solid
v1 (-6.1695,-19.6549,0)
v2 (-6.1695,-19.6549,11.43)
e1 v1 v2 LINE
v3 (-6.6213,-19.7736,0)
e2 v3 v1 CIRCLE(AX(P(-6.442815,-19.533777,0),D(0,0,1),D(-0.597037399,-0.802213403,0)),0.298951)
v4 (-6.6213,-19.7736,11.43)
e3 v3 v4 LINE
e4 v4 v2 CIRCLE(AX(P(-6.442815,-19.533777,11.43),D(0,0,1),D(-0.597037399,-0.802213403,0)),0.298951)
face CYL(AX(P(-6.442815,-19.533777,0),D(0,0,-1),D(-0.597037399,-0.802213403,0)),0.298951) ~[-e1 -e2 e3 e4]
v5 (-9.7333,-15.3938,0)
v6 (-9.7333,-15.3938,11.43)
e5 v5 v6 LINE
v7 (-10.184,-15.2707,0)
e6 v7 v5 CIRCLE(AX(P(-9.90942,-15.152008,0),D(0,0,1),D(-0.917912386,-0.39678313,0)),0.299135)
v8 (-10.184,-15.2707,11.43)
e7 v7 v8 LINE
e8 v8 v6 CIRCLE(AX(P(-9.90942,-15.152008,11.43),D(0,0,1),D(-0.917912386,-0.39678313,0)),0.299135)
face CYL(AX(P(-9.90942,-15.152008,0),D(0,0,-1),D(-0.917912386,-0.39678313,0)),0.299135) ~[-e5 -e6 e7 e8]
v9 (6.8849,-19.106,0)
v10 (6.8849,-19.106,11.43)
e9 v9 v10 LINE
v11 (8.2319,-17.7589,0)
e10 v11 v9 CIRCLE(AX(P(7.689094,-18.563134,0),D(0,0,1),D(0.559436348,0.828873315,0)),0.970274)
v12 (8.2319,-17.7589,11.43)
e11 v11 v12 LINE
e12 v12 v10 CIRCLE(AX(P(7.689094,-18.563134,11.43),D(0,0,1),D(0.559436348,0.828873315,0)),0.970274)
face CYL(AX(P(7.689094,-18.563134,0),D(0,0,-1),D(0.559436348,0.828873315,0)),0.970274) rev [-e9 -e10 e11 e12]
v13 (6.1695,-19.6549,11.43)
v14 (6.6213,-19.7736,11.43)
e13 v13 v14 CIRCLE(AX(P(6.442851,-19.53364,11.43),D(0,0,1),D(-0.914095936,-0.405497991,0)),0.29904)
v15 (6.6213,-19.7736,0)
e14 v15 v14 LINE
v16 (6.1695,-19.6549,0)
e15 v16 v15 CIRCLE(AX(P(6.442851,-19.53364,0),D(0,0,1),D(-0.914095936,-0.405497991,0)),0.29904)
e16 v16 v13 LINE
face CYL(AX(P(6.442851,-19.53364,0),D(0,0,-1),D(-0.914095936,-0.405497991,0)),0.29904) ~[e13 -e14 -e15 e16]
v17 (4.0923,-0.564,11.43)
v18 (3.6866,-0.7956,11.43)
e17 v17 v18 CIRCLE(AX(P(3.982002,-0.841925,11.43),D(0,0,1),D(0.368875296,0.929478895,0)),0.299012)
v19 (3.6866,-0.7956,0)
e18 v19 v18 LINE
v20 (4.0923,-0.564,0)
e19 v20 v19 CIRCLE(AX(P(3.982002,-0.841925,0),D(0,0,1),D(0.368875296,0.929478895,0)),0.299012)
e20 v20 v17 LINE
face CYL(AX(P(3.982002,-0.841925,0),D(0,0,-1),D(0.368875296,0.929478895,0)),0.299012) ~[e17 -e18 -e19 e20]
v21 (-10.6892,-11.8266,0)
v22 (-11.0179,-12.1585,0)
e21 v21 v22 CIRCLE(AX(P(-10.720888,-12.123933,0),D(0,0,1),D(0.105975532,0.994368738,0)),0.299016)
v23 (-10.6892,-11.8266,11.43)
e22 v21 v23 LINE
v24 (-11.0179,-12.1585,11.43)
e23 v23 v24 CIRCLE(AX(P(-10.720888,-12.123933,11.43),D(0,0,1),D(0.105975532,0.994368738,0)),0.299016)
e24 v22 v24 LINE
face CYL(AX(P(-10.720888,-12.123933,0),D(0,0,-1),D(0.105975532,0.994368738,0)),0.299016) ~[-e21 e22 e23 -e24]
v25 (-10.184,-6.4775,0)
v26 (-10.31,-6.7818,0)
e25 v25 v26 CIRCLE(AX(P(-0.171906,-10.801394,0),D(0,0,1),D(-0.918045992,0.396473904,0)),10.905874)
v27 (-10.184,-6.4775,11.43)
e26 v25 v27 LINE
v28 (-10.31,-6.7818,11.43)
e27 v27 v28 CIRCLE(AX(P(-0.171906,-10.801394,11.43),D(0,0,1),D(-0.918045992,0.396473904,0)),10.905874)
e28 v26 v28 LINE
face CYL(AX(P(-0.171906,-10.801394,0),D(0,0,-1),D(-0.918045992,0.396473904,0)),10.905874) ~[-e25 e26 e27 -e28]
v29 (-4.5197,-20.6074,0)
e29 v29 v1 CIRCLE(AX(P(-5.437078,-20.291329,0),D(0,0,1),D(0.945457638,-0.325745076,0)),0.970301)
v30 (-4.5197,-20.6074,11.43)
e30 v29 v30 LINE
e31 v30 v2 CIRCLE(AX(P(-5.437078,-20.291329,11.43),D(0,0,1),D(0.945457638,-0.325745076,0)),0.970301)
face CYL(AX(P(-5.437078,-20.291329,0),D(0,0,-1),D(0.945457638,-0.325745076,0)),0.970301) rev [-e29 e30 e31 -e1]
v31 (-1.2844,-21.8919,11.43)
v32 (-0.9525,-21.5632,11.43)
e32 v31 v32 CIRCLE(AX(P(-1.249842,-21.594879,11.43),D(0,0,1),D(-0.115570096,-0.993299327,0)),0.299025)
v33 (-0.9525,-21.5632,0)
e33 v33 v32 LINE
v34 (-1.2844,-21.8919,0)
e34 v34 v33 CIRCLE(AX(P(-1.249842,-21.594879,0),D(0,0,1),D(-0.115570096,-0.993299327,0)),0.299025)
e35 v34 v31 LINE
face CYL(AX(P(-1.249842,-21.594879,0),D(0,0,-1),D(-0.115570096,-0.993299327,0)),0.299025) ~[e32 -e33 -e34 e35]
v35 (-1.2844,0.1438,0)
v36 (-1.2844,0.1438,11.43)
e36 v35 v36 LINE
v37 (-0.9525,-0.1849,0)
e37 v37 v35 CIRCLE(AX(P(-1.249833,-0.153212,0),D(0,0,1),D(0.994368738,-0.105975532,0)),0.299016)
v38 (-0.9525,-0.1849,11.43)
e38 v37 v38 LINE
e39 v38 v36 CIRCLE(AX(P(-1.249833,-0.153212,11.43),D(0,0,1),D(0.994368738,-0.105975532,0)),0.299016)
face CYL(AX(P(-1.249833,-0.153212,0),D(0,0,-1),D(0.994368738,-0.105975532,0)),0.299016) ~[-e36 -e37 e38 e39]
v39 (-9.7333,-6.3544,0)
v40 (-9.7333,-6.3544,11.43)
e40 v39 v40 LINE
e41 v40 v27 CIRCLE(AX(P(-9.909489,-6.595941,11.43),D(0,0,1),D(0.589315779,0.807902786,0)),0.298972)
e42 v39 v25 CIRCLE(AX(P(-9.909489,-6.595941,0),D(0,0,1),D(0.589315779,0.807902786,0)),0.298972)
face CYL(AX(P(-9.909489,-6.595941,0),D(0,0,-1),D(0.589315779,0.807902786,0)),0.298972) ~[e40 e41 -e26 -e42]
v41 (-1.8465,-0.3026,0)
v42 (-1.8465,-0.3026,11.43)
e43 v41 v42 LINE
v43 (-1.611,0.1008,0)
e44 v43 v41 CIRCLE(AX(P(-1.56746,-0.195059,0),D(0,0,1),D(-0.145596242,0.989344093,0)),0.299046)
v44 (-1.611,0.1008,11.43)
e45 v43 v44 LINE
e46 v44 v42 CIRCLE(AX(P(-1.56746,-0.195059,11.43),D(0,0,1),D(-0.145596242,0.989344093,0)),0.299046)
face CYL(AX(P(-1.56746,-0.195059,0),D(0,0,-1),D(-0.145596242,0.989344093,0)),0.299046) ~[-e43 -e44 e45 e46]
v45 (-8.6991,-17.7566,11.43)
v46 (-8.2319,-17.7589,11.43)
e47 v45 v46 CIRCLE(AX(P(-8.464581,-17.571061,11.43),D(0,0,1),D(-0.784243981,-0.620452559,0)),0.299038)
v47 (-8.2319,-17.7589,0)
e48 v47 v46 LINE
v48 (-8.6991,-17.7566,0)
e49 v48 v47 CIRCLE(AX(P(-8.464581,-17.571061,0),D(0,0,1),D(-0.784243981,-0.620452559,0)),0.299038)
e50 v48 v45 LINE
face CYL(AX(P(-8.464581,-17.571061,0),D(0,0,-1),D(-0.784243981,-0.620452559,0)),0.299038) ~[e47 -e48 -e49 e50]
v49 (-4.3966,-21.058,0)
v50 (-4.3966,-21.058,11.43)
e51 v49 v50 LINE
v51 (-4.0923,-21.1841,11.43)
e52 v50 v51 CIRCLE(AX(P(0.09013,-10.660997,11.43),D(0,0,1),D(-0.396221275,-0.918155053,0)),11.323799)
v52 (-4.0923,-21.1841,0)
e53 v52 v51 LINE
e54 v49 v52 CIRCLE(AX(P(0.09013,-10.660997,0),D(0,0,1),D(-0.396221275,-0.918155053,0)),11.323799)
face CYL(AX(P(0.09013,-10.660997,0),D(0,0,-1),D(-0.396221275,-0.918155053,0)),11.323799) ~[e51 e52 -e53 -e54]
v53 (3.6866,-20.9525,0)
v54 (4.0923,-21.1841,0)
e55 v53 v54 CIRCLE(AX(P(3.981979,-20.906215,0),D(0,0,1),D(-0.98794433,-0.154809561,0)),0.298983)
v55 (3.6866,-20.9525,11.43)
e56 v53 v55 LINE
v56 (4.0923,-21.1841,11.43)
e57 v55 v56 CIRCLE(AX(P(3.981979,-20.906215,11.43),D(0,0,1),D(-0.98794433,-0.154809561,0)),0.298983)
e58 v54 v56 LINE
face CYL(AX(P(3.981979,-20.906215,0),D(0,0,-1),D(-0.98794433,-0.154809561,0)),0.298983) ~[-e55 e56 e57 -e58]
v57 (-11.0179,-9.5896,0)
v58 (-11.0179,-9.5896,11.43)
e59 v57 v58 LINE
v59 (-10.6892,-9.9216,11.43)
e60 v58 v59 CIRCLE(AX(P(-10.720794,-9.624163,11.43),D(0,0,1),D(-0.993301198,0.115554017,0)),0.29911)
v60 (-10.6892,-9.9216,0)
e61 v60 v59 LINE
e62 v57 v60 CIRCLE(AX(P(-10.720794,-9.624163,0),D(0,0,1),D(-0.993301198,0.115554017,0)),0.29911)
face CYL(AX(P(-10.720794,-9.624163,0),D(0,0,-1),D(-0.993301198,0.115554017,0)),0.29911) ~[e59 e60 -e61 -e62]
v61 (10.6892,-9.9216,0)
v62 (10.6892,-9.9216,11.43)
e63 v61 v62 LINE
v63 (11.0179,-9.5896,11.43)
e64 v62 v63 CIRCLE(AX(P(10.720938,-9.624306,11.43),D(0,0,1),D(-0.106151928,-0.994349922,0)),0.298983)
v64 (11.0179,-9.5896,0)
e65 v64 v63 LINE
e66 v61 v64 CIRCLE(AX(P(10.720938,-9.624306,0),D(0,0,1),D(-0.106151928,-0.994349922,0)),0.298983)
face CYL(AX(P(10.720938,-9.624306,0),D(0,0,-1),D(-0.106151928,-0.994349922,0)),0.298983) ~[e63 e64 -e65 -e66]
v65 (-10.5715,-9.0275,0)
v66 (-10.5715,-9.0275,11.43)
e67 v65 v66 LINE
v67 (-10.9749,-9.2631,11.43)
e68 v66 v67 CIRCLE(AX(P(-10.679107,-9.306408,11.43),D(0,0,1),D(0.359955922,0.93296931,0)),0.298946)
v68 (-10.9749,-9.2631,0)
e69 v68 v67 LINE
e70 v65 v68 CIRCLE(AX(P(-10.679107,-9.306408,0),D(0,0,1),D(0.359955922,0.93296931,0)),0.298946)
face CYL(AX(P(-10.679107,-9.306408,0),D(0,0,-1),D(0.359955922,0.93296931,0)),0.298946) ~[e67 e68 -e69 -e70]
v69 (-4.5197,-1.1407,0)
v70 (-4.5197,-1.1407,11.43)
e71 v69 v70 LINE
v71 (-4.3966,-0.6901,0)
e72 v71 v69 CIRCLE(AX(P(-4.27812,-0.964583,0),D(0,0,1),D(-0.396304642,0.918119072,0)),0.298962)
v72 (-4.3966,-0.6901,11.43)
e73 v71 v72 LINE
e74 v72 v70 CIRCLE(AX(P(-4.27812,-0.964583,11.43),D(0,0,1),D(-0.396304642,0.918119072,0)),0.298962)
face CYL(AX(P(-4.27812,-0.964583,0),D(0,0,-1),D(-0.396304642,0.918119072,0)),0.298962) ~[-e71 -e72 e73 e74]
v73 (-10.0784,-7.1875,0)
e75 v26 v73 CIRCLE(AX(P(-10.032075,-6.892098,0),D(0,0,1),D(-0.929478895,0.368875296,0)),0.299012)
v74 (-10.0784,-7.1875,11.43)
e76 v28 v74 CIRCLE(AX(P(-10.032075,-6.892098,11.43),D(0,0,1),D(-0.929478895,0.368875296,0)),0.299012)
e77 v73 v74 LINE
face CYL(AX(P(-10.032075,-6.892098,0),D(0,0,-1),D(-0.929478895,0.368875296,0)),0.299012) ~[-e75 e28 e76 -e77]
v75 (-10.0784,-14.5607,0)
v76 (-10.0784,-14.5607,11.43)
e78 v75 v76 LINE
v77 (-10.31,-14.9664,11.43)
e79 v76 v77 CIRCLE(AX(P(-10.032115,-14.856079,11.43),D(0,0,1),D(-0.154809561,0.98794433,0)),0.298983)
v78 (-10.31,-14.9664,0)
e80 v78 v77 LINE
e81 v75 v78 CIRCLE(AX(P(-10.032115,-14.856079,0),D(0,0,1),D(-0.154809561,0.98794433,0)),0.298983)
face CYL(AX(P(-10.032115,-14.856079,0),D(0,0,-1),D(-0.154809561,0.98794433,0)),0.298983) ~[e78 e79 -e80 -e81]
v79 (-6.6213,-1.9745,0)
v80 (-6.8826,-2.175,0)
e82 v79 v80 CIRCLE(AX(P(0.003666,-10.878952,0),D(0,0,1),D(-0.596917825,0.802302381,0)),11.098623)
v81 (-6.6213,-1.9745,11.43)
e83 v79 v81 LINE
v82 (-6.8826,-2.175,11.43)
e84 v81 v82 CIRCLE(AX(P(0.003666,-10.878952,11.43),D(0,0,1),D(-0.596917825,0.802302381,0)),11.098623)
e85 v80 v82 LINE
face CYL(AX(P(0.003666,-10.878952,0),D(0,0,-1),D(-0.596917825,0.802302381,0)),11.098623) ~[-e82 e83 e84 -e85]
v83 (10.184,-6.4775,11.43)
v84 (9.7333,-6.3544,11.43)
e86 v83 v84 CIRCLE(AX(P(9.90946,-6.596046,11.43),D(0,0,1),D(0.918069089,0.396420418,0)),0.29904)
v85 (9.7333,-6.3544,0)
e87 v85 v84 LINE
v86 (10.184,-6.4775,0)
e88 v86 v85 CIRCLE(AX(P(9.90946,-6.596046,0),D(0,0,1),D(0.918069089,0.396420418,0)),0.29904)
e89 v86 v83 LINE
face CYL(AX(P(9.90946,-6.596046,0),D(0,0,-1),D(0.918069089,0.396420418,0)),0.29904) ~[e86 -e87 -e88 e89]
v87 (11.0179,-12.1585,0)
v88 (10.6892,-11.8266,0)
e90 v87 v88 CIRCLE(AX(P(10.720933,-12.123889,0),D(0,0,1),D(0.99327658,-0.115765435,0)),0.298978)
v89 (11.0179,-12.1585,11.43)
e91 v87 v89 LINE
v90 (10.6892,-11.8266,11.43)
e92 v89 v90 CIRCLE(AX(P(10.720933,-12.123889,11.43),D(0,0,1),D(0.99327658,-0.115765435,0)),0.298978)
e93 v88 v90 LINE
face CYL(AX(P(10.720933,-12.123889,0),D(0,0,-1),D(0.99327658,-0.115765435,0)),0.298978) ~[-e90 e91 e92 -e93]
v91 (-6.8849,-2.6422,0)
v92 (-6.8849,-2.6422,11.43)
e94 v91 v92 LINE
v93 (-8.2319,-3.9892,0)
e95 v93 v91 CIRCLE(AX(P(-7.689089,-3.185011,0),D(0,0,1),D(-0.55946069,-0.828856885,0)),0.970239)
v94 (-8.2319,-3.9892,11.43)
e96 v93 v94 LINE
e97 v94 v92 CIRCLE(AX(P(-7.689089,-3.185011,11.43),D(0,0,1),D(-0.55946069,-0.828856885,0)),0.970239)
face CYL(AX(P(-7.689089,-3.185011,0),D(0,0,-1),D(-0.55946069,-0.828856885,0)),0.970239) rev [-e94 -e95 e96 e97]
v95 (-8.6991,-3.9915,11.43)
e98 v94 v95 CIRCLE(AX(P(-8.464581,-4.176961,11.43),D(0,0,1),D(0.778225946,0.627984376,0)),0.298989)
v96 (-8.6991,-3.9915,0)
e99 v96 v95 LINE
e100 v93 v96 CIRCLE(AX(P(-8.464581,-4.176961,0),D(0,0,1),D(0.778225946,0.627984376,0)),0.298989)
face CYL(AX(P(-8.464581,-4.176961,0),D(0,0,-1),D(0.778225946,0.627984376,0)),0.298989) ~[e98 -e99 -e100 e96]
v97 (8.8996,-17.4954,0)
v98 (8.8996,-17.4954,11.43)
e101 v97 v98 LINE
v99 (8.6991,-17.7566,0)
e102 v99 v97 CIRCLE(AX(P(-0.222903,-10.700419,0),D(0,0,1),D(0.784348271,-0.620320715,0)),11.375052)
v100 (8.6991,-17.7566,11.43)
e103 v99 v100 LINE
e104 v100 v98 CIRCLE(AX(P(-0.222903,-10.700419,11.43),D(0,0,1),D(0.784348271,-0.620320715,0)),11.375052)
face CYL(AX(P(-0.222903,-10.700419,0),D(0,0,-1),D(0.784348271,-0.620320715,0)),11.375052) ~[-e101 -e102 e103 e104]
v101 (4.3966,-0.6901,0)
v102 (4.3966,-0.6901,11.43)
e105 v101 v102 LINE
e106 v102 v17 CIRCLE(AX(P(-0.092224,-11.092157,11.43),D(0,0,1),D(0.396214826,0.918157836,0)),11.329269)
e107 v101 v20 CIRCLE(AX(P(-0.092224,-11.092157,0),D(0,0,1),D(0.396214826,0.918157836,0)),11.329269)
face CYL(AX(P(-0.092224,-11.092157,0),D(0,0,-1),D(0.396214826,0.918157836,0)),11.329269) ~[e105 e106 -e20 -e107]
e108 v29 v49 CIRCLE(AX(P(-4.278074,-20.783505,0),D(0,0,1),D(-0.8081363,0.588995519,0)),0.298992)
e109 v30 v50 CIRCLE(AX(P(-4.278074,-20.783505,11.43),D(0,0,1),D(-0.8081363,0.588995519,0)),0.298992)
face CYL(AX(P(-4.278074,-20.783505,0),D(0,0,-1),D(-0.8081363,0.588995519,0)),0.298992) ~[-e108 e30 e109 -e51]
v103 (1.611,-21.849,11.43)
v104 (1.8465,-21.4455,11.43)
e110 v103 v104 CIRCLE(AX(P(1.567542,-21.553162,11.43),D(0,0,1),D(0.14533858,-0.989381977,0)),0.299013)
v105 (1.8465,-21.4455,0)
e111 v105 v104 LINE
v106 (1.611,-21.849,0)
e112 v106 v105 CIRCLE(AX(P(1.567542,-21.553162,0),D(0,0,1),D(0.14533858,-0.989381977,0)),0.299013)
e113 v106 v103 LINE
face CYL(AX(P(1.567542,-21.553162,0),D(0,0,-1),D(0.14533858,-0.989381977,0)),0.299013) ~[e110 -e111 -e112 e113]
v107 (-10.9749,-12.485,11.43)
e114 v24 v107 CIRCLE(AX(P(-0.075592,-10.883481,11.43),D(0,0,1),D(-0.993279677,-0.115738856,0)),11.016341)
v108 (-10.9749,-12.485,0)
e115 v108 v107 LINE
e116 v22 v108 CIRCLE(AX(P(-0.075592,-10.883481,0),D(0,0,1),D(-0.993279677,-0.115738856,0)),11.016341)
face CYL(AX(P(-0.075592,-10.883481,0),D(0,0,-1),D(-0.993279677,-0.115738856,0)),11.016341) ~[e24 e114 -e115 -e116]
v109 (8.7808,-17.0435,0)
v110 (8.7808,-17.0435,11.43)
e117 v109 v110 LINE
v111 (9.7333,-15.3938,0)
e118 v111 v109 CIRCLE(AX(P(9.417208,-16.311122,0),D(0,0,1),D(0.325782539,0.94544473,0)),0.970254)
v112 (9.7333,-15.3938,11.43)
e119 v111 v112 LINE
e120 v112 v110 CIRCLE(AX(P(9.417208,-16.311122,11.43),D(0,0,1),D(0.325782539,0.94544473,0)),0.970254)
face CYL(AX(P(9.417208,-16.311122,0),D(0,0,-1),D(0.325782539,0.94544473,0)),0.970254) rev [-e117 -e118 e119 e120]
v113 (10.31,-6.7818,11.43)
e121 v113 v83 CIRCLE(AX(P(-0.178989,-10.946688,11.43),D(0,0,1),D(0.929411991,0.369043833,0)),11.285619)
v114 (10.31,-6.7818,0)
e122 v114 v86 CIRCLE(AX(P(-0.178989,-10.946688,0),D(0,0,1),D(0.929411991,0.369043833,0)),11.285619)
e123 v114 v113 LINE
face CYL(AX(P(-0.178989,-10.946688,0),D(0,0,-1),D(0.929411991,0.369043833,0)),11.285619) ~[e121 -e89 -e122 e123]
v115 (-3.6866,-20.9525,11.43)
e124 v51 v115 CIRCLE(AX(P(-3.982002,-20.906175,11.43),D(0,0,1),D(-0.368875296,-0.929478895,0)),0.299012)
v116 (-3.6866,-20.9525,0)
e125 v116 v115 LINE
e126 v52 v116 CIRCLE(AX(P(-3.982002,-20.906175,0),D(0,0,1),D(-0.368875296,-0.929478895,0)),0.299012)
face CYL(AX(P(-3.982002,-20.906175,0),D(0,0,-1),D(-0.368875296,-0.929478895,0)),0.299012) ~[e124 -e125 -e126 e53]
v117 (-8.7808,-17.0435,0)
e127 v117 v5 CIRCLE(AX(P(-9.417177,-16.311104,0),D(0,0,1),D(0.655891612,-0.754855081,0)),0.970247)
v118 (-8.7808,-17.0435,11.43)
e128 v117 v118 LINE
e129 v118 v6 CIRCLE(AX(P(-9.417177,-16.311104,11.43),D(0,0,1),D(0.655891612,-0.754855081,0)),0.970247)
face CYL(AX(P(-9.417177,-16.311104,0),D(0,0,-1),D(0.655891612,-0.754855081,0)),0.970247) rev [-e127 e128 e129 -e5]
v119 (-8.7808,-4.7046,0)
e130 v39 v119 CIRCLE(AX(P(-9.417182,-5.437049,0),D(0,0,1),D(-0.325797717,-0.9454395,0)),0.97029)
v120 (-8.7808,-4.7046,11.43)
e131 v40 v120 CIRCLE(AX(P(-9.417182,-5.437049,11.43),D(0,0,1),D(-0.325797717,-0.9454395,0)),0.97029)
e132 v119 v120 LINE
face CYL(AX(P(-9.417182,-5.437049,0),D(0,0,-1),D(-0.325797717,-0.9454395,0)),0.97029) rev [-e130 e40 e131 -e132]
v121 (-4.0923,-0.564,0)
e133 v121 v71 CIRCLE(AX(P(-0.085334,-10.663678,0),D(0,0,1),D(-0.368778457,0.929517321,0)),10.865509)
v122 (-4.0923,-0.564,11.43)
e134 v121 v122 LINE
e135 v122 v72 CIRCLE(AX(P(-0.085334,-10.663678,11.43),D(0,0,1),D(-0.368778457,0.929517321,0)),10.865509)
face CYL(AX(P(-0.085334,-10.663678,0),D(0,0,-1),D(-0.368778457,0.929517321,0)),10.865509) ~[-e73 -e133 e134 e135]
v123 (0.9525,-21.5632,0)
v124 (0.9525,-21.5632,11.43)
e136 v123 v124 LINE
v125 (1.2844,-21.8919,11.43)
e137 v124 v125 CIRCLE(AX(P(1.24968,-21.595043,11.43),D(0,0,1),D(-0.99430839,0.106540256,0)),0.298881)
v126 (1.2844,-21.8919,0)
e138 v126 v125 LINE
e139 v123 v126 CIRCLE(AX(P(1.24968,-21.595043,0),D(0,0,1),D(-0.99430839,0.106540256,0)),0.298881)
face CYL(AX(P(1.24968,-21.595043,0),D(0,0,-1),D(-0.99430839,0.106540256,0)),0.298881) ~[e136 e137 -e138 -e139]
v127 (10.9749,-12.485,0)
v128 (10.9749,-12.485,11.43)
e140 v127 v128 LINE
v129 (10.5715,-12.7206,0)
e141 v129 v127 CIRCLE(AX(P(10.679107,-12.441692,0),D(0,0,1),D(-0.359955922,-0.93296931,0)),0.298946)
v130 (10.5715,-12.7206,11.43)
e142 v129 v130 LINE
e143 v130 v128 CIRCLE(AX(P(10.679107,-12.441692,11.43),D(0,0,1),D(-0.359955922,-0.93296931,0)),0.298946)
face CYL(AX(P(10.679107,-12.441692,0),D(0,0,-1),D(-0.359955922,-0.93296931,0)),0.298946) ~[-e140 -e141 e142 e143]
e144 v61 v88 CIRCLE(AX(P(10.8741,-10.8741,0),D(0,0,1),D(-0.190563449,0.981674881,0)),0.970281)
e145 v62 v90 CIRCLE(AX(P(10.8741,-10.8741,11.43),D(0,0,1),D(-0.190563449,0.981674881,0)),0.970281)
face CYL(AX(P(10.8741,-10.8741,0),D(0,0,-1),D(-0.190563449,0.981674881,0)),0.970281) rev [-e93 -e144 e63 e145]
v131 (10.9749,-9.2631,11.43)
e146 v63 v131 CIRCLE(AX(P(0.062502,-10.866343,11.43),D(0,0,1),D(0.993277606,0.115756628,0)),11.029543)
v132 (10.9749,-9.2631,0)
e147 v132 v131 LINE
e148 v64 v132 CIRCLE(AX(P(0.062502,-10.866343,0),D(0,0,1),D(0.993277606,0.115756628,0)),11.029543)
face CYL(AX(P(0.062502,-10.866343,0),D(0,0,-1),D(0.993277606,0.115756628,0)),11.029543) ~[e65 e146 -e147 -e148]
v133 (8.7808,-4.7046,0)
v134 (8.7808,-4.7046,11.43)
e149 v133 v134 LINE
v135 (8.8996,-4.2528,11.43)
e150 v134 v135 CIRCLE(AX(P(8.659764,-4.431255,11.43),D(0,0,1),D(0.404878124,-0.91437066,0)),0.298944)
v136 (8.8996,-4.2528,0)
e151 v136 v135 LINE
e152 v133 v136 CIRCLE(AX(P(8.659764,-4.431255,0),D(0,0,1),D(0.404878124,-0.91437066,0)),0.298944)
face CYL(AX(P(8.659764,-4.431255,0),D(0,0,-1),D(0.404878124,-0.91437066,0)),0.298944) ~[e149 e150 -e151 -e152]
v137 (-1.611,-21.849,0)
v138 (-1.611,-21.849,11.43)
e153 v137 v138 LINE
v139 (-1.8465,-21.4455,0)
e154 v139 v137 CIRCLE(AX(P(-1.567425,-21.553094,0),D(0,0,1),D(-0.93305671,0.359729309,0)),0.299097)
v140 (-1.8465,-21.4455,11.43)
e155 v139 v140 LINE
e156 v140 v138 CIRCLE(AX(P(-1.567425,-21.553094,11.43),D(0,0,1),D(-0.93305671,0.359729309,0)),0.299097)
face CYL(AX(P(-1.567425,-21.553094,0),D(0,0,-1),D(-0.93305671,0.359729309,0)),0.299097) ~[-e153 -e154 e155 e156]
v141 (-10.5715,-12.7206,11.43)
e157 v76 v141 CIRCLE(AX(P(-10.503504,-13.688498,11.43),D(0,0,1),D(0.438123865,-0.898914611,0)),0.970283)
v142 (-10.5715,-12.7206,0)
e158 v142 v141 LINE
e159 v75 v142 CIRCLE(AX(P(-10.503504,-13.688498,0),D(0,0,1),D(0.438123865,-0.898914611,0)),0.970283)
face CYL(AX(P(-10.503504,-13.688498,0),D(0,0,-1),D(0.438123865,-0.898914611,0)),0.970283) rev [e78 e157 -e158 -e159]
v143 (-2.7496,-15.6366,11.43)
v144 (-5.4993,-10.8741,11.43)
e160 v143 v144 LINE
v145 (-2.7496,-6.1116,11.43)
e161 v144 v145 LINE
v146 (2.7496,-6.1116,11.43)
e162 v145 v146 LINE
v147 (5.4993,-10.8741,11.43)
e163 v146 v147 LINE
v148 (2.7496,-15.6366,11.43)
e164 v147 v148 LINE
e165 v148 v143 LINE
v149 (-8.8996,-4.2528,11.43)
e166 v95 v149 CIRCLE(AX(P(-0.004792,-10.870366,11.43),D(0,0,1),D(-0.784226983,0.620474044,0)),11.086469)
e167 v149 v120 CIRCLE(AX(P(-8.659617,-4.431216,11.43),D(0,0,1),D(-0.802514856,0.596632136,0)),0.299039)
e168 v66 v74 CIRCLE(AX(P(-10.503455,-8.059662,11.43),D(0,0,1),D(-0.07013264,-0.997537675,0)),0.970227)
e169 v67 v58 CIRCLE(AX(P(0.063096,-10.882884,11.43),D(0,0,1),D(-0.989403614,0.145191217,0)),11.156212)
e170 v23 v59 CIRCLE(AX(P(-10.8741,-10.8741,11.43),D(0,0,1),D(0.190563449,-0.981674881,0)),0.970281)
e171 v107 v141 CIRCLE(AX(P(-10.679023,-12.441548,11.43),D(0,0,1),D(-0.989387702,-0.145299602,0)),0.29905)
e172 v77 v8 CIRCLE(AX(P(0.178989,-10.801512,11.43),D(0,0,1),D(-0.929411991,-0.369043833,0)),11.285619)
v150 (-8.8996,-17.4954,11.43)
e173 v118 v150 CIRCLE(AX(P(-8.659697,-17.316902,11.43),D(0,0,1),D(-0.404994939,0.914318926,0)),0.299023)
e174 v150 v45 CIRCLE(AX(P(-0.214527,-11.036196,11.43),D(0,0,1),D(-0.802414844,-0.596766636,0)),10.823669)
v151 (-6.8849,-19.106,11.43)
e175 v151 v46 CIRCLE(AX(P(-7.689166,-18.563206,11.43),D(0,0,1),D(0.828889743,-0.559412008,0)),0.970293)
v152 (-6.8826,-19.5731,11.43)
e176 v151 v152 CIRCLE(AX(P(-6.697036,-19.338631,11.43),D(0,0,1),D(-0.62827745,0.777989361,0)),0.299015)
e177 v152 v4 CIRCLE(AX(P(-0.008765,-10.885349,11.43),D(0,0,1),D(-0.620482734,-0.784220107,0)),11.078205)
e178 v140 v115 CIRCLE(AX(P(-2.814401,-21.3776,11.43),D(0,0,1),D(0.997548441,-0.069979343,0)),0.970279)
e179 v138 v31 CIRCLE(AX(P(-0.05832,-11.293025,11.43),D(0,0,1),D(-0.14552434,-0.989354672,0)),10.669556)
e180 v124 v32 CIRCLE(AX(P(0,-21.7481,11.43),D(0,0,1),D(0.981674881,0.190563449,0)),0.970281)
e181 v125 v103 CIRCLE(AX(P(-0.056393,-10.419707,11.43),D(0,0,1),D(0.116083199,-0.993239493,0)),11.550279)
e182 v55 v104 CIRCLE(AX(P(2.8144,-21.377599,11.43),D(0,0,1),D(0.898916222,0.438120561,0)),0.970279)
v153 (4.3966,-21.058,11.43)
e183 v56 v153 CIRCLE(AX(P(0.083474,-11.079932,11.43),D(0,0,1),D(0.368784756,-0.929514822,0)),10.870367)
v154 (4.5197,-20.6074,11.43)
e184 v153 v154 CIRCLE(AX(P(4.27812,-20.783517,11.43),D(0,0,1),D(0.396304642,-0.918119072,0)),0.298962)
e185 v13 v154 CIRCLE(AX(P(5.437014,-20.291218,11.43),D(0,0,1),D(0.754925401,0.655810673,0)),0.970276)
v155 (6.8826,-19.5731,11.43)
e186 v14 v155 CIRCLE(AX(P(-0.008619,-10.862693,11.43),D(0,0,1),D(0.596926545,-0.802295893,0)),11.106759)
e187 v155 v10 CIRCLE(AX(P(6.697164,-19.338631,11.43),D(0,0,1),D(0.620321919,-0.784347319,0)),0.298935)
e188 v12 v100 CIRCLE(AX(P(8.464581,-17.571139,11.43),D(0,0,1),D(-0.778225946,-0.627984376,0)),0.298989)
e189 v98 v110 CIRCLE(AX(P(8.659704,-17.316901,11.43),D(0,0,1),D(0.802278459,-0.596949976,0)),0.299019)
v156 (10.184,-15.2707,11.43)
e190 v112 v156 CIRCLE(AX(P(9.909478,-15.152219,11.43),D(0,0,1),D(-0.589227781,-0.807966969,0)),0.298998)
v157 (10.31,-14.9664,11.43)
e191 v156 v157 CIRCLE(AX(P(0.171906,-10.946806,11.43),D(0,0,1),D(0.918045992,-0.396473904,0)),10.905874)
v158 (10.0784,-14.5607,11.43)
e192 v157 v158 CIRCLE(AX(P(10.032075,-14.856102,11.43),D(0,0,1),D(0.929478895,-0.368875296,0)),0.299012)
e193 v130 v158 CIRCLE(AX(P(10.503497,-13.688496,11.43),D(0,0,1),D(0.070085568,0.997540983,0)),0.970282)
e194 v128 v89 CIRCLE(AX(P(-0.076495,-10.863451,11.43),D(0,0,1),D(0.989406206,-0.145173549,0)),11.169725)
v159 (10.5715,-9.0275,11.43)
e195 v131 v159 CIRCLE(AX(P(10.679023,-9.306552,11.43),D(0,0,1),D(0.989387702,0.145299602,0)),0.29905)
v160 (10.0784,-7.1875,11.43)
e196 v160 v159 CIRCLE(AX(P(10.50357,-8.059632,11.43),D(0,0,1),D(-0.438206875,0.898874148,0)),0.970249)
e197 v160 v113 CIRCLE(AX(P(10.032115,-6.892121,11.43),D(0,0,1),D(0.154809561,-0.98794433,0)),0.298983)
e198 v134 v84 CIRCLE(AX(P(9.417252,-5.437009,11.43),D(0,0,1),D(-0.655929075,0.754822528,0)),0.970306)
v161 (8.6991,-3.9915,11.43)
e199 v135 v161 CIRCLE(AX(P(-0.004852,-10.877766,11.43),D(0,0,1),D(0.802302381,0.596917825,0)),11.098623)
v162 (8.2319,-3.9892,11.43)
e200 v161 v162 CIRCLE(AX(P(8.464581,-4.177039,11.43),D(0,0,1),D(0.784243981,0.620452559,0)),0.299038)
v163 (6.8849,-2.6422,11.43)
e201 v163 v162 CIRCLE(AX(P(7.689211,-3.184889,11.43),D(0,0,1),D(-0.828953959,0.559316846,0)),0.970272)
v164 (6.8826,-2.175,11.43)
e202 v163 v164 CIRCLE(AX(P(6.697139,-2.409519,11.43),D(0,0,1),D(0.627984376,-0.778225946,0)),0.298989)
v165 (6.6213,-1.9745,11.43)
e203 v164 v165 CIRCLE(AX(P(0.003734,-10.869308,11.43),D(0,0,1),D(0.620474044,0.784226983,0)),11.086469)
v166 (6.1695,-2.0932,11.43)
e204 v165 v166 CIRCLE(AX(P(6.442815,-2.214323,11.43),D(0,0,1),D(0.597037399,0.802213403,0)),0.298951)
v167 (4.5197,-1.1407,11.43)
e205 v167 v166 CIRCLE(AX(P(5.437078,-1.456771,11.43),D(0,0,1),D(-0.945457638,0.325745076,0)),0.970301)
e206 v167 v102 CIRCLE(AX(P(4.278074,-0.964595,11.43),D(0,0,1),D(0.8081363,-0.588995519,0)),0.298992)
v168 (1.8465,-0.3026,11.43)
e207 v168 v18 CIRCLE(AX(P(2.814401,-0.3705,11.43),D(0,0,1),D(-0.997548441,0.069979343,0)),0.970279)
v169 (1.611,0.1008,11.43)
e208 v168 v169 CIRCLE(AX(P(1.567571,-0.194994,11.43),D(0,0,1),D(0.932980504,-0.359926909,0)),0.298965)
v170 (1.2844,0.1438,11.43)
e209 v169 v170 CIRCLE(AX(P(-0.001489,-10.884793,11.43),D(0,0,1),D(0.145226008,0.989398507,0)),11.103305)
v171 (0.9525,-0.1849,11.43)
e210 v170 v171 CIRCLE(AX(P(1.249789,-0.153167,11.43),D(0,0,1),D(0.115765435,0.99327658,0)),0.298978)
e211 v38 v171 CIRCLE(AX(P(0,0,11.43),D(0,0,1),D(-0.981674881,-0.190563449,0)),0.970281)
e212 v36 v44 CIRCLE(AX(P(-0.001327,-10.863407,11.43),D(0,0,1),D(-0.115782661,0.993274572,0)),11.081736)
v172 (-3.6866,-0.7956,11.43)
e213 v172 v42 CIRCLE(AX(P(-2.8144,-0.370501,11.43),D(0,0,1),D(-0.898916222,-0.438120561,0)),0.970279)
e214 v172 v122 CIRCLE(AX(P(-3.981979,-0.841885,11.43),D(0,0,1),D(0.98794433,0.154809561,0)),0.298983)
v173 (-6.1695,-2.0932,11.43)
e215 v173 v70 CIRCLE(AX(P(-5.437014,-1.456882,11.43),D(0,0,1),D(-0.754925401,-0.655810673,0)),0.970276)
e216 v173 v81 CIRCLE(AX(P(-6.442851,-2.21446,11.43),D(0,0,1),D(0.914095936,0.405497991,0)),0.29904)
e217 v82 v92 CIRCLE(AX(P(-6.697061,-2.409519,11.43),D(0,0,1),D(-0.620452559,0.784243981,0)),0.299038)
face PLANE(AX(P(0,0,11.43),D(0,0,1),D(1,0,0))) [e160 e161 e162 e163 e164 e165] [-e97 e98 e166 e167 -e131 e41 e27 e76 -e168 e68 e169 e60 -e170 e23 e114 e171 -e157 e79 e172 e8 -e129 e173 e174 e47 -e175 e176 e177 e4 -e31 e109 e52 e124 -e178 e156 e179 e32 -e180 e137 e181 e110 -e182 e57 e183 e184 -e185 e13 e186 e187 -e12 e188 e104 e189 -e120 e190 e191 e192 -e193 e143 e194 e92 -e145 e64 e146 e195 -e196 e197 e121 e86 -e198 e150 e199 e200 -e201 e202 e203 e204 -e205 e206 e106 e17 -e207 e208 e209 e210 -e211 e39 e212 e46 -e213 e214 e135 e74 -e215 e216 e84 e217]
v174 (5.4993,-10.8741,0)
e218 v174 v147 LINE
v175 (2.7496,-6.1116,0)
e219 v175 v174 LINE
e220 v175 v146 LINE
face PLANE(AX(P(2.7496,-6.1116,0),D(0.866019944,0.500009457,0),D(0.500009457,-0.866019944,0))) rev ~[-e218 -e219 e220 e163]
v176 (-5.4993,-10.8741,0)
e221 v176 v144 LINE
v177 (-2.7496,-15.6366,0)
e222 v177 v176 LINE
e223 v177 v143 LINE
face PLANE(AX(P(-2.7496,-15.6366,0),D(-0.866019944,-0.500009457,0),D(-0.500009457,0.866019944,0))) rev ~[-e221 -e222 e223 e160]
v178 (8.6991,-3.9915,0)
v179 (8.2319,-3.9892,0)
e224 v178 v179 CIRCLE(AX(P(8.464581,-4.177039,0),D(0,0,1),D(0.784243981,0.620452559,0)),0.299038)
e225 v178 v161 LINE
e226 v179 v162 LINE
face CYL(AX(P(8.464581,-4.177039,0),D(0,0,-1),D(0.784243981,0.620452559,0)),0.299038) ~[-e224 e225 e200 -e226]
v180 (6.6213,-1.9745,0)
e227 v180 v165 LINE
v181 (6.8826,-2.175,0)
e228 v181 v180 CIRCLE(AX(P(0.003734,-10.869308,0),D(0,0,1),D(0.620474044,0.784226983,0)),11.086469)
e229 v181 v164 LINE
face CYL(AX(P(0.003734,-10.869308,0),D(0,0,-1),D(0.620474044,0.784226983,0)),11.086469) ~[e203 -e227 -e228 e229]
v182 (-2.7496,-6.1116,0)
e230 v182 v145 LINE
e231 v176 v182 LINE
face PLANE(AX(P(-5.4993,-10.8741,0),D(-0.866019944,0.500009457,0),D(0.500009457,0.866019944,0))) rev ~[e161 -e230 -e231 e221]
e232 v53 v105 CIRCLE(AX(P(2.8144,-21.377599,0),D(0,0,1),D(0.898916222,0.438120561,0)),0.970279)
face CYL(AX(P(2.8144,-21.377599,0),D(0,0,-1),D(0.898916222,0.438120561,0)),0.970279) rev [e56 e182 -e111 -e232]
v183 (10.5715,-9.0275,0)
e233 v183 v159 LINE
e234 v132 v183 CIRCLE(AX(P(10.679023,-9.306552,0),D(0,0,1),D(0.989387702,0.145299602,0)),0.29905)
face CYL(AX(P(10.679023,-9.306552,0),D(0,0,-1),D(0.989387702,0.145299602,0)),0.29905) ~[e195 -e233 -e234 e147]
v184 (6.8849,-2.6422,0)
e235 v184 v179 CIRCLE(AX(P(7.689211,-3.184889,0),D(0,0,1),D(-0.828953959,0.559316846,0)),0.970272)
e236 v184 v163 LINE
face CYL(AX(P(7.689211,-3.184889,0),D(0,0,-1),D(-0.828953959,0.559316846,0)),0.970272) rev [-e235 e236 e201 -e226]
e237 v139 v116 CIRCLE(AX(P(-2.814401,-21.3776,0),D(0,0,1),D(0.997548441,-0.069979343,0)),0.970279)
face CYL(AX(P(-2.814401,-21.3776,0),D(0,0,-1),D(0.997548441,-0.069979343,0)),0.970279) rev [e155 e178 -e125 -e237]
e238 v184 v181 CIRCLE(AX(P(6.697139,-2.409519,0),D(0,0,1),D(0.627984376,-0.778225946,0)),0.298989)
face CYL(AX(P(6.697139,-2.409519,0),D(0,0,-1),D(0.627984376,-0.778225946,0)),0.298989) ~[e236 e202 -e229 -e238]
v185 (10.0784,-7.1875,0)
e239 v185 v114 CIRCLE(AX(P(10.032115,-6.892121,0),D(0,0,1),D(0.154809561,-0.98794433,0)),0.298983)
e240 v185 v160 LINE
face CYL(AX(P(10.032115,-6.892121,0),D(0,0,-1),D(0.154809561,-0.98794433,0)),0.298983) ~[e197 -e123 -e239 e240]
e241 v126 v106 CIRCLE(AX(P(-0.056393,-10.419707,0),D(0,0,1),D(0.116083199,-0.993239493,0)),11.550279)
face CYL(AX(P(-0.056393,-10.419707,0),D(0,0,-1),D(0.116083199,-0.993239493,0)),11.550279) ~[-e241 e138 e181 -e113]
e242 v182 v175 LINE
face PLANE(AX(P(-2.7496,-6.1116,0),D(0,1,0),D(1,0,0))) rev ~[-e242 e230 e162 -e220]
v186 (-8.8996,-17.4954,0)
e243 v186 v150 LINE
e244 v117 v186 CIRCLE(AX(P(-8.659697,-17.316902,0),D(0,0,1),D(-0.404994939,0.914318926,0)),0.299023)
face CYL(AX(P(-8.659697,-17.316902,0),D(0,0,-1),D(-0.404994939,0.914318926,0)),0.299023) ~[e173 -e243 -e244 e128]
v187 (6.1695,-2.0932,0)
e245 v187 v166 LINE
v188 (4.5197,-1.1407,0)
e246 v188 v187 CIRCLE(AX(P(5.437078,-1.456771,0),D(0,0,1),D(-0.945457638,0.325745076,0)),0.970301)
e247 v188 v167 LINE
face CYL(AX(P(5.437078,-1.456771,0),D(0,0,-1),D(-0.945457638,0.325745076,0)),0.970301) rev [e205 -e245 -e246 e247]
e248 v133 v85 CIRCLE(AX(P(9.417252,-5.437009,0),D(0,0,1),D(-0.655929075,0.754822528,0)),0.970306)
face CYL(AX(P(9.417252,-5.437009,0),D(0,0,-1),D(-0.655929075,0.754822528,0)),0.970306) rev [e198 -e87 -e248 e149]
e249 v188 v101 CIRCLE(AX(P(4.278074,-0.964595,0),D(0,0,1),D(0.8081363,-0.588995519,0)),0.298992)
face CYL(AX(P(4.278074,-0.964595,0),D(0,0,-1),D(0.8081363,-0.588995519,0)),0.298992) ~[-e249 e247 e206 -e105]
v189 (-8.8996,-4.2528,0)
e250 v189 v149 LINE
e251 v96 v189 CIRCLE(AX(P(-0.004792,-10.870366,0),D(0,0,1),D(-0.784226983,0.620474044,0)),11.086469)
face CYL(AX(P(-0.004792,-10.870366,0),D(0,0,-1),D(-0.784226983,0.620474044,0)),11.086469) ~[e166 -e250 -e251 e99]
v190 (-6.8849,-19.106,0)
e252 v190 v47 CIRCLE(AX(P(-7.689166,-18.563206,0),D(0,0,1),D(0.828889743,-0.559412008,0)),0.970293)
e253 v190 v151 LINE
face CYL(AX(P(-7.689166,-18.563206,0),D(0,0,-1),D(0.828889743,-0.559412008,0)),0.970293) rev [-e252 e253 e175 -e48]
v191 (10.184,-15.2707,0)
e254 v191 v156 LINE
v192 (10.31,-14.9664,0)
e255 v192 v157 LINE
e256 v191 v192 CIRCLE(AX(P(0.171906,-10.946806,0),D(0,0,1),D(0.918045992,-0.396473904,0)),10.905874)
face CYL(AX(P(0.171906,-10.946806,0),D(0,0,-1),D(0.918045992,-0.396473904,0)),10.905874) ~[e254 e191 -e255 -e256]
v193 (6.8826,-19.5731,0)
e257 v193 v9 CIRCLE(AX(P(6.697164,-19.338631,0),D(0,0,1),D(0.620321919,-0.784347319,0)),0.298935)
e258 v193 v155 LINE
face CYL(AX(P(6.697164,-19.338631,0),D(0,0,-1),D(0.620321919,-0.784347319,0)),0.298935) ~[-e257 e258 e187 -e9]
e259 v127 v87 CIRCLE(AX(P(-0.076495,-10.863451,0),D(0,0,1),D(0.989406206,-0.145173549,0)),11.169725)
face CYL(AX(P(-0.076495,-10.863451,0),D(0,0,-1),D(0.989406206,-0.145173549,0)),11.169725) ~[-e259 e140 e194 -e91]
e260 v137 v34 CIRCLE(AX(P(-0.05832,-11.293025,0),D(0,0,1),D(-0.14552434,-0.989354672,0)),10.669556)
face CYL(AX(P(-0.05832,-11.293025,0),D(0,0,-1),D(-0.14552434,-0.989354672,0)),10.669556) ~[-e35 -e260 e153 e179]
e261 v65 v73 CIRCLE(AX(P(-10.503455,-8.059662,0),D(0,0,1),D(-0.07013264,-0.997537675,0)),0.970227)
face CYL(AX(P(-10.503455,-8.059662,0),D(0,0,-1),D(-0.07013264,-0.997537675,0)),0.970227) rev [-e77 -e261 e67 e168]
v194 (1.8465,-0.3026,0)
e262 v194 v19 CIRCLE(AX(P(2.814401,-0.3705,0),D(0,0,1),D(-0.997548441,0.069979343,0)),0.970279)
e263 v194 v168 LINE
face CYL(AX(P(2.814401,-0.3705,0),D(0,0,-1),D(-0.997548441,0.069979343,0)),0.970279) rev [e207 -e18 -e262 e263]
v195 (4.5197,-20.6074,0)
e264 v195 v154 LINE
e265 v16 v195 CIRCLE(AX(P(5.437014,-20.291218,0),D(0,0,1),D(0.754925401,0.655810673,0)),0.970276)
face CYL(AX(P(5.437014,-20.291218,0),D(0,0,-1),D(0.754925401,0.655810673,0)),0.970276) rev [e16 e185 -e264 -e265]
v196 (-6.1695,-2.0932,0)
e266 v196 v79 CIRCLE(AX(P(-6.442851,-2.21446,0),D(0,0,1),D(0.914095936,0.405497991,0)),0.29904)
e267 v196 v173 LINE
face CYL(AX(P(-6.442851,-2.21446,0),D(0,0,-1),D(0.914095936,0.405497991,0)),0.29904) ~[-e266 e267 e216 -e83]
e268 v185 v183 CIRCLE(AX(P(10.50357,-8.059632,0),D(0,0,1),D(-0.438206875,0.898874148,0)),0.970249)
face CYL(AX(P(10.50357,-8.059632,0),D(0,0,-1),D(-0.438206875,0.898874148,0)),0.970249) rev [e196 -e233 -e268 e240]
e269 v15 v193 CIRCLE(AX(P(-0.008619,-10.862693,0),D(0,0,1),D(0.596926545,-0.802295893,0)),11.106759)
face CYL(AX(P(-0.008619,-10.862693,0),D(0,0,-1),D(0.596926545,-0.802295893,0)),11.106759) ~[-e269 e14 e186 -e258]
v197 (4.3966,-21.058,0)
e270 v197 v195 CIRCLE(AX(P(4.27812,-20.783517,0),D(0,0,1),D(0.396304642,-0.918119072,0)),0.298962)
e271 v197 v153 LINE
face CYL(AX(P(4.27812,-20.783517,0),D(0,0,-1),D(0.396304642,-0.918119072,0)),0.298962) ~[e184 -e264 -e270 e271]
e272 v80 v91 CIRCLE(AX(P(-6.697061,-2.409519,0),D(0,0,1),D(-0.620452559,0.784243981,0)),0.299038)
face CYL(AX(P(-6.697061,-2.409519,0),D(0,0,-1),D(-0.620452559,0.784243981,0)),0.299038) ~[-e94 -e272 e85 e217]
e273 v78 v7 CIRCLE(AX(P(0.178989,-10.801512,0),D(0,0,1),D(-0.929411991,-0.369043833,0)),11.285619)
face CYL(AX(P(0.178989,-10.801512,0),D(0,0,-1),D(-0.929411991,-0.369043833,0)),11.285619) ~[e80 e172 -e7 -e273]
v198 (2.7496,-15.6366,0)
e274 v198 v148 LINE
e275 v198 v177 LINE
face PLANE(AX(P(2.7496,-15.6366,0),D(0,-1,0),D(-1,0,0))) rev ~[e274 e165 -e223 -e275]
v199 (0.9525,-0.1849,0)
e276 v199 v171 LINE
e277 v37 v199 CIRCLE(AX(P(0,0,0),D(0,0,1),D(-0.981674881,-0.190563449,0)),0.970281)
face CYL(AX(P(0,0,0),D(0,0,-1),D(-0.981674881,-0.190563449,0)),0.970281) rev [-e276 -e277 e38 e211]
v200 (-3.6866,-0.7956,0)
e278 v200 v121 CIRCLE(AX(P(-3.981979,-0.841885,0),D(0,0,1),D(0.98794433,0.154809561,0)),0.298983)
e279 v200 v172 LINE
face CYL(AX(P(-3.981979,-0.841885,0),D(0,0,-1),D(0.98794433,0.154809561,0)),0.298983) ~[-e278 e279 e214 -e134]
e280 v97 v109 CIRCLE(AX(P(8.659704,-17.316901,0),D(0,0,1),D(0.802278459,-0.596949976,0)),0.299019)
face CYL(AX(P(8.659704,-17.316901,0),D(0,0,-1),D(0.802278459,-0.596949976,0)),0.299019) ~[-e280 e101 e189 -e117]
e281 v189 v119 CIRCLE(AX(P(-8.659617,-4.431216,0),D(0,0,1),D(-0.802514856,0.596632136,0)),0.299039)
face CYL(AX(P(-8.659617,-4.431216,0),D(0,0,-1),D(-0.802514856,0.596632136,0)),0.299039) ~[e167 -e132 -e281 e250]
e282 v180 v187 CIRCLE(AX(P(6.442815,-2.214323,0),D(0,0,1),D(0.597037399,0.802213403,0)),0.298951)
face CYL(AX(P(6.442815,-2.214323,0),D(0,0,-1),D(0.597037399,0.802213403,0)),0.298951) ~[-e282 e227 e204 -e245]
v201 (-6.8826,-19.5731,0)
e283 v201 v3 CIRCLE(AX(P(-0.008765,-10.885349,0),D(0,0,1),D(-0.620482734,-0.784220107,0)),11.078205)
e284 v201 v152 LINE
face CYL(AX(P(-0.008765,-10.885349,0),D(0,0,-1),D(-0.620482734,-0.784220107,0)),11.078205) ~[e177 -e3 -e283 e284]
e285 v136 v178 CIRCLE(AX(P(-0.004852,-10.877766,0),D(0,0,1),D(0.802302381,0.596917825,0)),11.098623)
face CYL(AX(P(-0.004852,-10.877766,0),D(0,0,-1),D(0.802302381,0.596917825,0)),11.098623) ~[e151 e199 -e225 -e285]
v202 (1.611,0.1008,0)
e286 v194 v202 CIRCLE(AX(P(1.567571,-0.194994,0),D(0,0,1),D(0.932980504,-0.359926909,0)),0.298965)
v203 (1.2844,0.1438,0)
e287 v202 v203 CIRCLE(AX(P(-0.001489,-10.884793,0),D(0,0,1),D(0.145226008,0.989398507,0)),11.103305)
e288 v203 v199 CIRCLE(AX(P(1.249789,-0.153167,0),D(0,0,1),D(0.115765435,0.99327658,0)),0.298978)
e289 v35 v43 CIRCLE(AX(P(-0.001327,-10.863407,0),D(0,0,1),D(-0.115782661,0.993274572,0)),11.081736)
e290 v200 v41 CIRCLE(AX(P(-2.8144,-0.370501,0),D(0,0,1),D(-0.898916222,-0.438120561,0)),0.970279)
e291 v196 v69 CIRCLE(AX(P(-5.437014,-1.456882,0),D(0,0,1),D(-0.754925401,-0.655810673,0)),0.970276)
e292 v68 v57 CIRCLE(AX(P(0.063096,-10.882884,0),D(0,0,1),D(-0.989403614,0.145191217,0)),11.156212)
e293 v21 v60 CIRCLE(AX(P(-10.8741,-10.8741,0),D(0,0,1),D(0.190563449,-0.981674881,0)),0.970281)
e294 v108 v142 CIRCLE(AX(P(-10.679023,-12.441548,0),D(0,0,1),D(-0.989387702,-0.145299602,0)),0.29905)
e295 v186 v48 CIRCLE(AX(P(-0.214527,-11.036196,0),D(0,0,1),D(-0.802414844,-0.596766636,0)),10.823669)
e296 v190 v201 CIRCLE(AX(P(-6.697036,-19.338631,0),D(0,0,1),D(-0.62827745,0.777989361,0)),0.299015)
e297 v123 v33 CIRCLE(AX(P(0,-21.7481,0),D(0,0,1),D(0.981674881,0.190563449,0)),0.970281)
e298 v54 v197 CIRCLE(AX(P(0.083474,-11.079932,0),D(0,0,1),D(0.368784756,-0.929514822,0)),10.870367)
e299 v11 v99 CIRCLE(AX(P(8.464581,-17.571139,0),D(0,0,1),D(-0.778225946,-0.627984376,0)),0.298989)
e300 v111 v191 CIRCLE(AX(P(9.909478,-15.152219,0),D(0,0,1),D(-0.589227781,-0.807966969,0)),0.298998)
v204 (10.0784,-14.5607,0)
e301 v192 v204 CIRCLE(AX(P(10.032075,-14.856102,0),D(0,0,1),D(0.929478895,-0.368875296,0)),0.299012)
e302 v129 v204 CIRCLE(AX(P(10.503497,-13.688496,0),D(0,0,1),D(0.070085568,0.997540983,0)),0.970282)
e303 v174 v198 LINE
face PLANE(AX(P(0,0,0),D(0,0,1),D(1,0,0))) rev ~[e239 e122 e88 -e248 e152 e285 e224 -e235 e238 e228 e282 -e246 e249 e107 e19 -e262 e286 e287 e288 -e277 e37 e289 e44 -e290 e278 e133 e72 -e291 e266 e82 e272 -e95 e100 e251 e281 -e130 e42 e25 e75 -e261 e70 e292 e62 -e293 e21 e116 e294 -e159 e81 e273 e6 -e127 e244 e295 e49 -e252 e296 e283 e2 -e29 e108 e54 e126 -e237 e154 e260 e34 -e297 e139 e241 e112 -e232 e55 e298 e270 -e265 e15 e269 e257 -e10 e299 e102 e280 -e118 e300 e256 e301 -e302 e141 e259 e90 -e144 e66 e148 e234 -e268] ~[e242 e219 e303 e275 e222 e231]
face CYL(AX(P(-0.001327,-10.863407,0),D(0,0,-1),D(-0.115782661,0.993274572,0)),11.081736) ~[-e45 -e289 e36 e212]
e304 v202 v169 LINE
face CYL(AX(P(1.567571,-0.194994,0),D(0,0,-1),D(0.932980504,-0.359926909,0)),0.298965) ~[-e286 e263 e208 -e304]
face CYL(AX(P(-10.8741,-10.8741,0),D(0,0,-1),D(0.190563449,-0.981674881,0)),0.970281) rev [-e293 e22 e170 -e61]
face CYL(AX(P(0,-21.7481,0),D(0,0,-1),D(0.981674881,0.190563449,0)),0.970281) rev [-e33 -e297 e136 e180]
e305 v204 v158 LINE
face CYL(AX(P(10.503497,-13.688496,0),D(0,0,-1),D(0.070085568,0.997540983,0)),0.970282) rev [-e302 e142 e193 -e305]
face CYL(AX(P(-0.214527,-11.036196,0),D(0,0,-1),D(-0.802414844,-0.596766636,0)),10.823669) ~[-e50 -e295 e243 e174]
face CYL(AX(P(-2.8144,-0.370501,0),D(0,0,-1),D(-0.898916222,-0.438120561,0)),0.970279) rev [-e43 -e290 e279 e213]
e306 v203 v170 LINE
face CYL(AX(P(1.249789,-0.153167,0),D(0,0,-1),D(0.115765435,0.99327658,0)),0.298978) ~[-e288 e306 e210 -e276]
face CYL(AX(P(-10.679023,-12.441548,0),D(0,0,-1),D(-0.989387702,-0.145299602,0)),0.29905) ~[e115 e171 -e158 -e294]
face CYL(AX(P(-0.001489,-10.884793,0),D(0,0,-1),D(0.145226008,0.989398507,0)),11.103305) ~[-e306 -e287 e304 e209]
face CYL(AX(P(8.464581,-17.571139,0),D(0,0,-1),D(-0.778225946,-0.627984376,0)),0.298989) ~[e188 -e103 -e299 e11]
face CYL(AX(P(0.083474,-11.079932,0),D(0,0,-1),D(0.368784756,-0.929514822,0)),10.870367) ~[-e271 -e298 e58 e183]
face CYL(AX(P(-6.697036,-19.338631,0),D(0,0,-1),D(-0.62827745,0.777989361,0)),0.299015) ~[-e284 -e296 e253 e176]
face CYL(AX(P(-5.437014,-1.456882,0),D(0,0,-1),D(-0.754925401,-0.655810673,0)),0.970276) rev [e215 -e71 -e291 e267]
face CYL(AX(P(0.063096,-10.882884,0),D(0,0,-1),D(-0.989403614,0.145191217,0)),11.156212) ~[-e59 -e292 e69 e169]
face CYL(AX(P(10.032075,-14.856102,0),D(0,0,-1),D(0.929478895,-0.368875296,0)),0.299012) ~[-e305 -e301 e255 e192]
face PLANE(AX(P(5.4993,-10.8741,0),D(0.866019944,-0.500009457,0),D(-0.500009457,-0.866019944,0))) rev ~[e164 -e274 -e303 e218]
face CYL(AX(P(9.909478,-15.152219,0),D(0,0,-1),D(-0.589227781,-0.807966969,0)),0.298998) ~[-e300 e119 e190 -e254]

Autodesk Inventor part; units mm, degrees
ref_plane "YZ Plane" through (0, 0, 0) normal (1, 0, 0) x (0, 1, 0)
ref_plane "XZ Plane" through (0, 0, 0) normal (0, 1, 0) x (-1, 0, 0)
sketch "Sketch1" plane through (0, 0, 0) normal (0, 0, 1) x (1, 0, 0)
  arc A0 (4.5197, -1.1407) -> (6.1695, -2.0932) centre (5.437, -1.4568) ccw
  arc A1 (4.5197, -1.1407) -> (4.3966, -0.6901) centre (4.2781, -0.9646) ccw
  arc A2 (4.3966, -0.6901) -> (4.0923, -0.564) centre (0, -10.8741) ccw
  arc A3 (4.0923, -0.564) -> (3.6866, -0.7956) centre (3.982, -0.8419) ccw
  arc A4 (1.8465, -0.3026) -> (3.6866, -0.7956) centre (2.8144, -0.3705) ccw
  arc A5 (1.8465, -0.3026) -> (1.611, 0.1008) centre (1.5675, -0.195) ccw
  arc A6 (1.611, 0.1008) -> (1.2844, 0.1438) centre (0, -10.8741) ccw
  arc A7 (1.2844, 0.1438) -> (0.9525, -0.1849) centre (1.2498, -0.1532) ccw
  arc A8 (-0.9525, -0.1849) -> (0.9525, -0.1849) centre (0, 0) ccw
  arc A9 (-0.9525, -0.1849) -> (-1.2844, 0.1438) centre (-1.2498, -0.1532) ccw
  arc A10 (-1.2844, 0.1438) -> (-1.611, 0.1008) centre (0, -10.8741) ccw
  arc A11 (-1.611, 0.1008) -> (-1.8465, -0.3026) centre (-1.5675, -0.195) ccw
  arc A12 (-3.6866, -0.7956) -> (-1.8465, -0.3026) centre (-2.8144, -0.3705) ccw
  arc A13 (-3.6866, -0.7956) -> (-4.0923, -0.564) centre (-3.982, -0.8419) ccw
  arc A14 (-4.0923, -0.564) -> (-4.3966, -0.6901) centre (0, -10.8741) ccw
  arc A15 (-4.3966, -0.6901) -> (-4.5197, -1.1407) centre (-4.2781, -0.9646) ccw
  arc A16 (-6.1695, -2.0932) -> (-4.5197, -1.1407) centre (-5.437, -1.4568) ccw
  arc A17 (-6.1695, -2.0932) -> (-6.6213, -1.9745) centre (-6.4428, -2.2144) ccw
  arc A18 (-6.6213, -1.9745) -> (-6.8826, -2.175) centre (0, -10.8741) ccw
  arc A19 (-6.8826, -2.175) -> (-6.8849, -2.6422) centre (-6.6971, -2.4095) ccw
  arc A20 (-8.2319, -3.9892) -> (-6.8849, -2.6422) centre (-7.6891, -3.1849) ccw
  arc A21 (-8.2319, -3.9892) -> (-8.6991, -3.9915) centre (-8.4646, -4.177) ccw
  arc A22 (-8.6991, -3.9915) -> (-8.8996, -4.2528) centre (0, -10.8741) ccw
  arc A23 (-8.8996, -4.2528) -> (-8.7808, -4.7046) centre (-8.6597, -4.4312) ccw
  arc A24 (-9.7333, -6.3544) -> (-8.7808, -4.7046) centre (-9.4172, -5.437) ccw
  arc A25 (-9.7333, -6.3544) -> (-10.184, -6.4775) centre (-9.9095, -6.596) ccw
  arc A26 (-10.184, -6.4775) -> (-10.31, -6.7818) centre (0, -10.8741) ccw
  arc A27 (-10.31, -6.7818) -> (-10.0784, -7.1875) centre (-10.0321, -6.8921) ccw
  arc A28 (-10.5715, -9.0275) -> (-10.0784, -7.1875) centre (-10.5035, -8.0596) ccw
  arc A29 (-10.5715, -9.0275) -> (-10.9749, -9.2631) centre (-10.6791, -9.3065) ccw
  arc A30 (-10.9749, -9.2631) -> (-11.0179, -9.5896) centre (0, -10.8741) ccw
  arc A31 (-11.0179, -9.5896) -> (-10.6892, -9.9216) centre (-10.7209, -9.6242) ccw
  arc A32 (-10.6892, -11.8266) -> (-10.6892, -9.9216) centre (-10.8741, -10.8741) ccw
  arc A33 (-10.6892, -11.8266) -> (-11.0179, -12.1585) centre (-10.7209, -12.1239) ccw
  arc A34 (-11.0179, -12.1585) -> (-10.9749, -12.485) centre (0, -10.8741) ccw
  arc A35 (-10.9749, -12.485) -> (-10.5715, -12.7206) centre (-10.6791, -12.4416) ccw
  arc A36 (-10.0784, -14.5607) -> (-10.5715, -12.7206) centre (-10.5035, -13.6885) ccw
  arc A37 (-10.0784, -14.5607) -> (-10.31, -14.9664) centre (-10.0321, -14.8561) ccw
  arc A38 (-10.31, -14.9664) -> (-10.184, -15.2707) centre (0, -10.8741) ccw
  arc A39 (-10.184, -15.2707) -> (-9.7333, -15.3938) centre (-9.9095, -15.1521) ccw
  arc A40 (-8.7808, -17.0435) -> (-9.7333, -15.3938) centre (-9.4172, -16.3111) ccw
  arc A41 (-8.7808, -17.0435) -> (-8.8996, -17.4954) centre (-8.6597, -17.3169) ccw
  arc A42 (-8.8996, -17.4954) -> (-8.6991, -17.7566) centre (0, -10.8741) ccw
  arc A43 (-8.6991, -17.7566) -> (-8.2319, -17.7589) centre (-8.4646, -17.5711) ccw
  arc A44 (-6.8849, -19.106) -> (-8.2319, -17.7589) centre (-7.6891, -18.5632) ccw
  arc A45 (-6.8849, -19.106) -> (-6.8826, -19.5731) centre (-6.6971, -19.3386) ccw
  arc A46 (-6.8826, -19.5731) -> (-6.6213, -19.7736) centre (0, -10.8741) ccw
  arc A47 (-6.6213, -19.7736) -> (-6.1695, -19.6549) centre (-6.4428, -19.5337) ccw
  arc A48 (-4.5197, -20.6074) -> (-6.1695, -19.6549) centre (-5.437, -20.2913) ccw
  arc A49 (-4.5197, -20.6074) -> (-4.3966, -21.058) centre (-4.2781, -20.7835) ccw
  arc A50 (-4.3966, -21.058) -> (-4.0923, -21.1841) centre (0, -10.8741) ccw
  arc A51 (-4.0923, -21.1841) -> (-3.6866, -20.9525) centre (-3.982, -20.9062) ccw
  arc A52 (-1.8465, -21.4455) -> (-3.6866, -20.9525) centre (-2.8144, -21.3776) ccw
  arc A53 (-1.8465, -21.4455) -> (-1.611, -21.849) centre (-1.5675, -21.5531) ccw
  arc A54 (-1.611, -21.849) -> (-1.2844, -21.8919) centre (0, -10.8741) ccw
  arc A55 (-1.2844, -21.8919) -> (-0.9525, -21.5632) centre (-1.2498, -21.595) ccw
  arc A56 (0.9525, -21.5632) -> (-0.9525, -21.5632) centre (0, -21.7481) ccw
  arc A57 (0.9525, -21.5632) -> (1.2844, -21.8919) centre (1.2498, -21.595) ccw
  arc A58 (1.2844, -21.8919) -> (1.611, -21.849) centre (0, -10.8741) ccw
  arc A59 (1.611, -21.849) -> (1.8465, -21.4455) centre (1.5675, -21.5531) ccw
  arc A60 (3.6866, -20.9525) -> (1.8465, -21.4455) centre (2.8144, -21.3776) ccw
  arc A61 (3.6866, -20.9525) -> (4.0923, -21.1841) centre (3.982, -20.9062) ccw
  arc A62 (4.0923, -21.1841) -> (4.3966, -21.058) centre (0, -10.8741) ccw
  arc A63 (4.3966, -21.058) -> (4.5197, -20.6074) centre (4.2781, -20.7835) ccw
  arc A64 (6.1695, -19.6549) -> (4.5197, -20.6074) centre (5.437, -20.2913) ccw
  arc A65 (6.1695, -19.6549) -> (6.6213, -19.7736) centre (6.4428, -19.5337) ccw
  arc A66 (6.6213, -19.7736) -> (6.8826, -19.5731) centre (0, -10.8741) ccw
  arc A67 (6.8826, -19.5731) -> (6.8849, -19.106) centre (6.6971, -19.3386) ccw
  arc A68 (8.2319, -17.7589) -> (6.8849, -19.106) centre (7.6891, -18.5632) ccw
  arc A69 (8.2319, -17.7589) -> (8.6991, -17.7566) centre (8.4646, -17.5711) ccw
  arc A70 (8.6991, -17.7566) -> (8.8996, -17.4954) centre (0, -10.8741) ccw
  arc A71 (8.8996, -17.4954) -> (8.7808, -17.0435) centre (8.6597, -17.3169) ccw
  arc A72 (9.7333, -15.3938) -> (8.7808, -17.0435) centre (9.4172, -16.3111) ccw
  arc A73 (9.7333, -15.3938) -> (10.184, -15.2707) centre (9.9095, -15.1521) ccw
  arc A74 (10.184, -15.2707) -> (10.31, -14.9664) centre (0, -10.8741) ccw
  arc A75 (10.31, -14.9664) -> (10.0784, -14.5607) centre (10.0321, -14.8561) ccw
  arc A76 (10.5715, -12.7206) -> (10.0784, -14.5607) centre (10.5035, -13.6885) ccw
  arc A77 (10.5715, -12.7206) -> (10.9749, -12.485) centre (10.6791, -12.4416) ccw
  arc A78 (10.9749, -12.485) -> (11.0179, -12.1585) centre (0, -10.8741) ccw
  arc A79 (11.0179, -12.1585) -> (10.6892, -11.8266) centre (10.7209, -12.1239) ccw
  arc A80 (10.6892, -9.9216) -> (10.6892, -11.8266) centre (10.8741, -10.8741) ccw
  arc A81 (10.6892, -9.9216) -> (11.0179, -9.5896) centre (10.7209, -9.6242) ccw
  arc A82 (11.0179, -9.5896) -> (10.9749, -9.2631) centre (0, -10.8741) ccw
  arc A83 (10.9749, -9.2631) -> (10.5715, -9.0275) centre (10.6791, -9.3065) ccw
  arc A84 (10.0784, -7.1875) -> (10.5715, -9.0275) centre (10.5035, -8.0596) ccw
  arc A85 (10.0784, -7.1875) -> (10.31, -6.7818) centre (10.0321, -6.8921) ccw
  arc A86 (10.31, -6.7818) -> (10.184, -6.4775) centre (0, -10.8741) ccw
  arc A87 (10.184, -6.4775) -> (9.7333, -6.3544) centre (9.9095, -6.596) ccw
  arc A88 (8.7808, -4.7046) -> (9.7333, -6.3544) centre (9.4172, -5.437) ccw
  arc A89 (8.7808, -4.7046) -> (8.8996, -4.2528) centre (8.6597, -4.4312) ccw
  arc A90 (8.8996, -4.2528) -> (8.6991, -3.9915) centre (0, -10.8741) ccw
  arc A91 (8.6991, -3.9915) -> (8.2319, -3.9892) centre (8.4646, -4.177) ccw
  arc A92 (6.8849, -2.6422) -> (8.2319, -3.9892) centre (7.6891, -3.1849) ccw
  arc A93 (6.8849, -2.6422) -> (6.8826, -2.175) centre (6.6971, -2.4095) ccw
  arc A94 (6.8826, -2.175) -> (6.6213, -1.9745) centre (0, -10.8741) ccw
  arc A95 (6.6213, -1.9745) -> (6.1695, -2.0932) centre (6.4428, -2.2144) ccw
  line L0 (-5.4993, -10.8741) -> (-2.7496, -6.1116)
  line L1 (-2.7496, -6.1116) -> (2.7496, -6.1116)
  line L2 (2.7496, -6.1116) -> (5.4993, -10.8741)
  line L3 (5.4993, -10.8741) -> (2.7496, -15.6366)
  line L4 (2.7496, -15.6366) -> (-2.7496, -15.6366)
  line L5 (-2.7496, -15.6366) -> (-5.4993, -10.8741)
  dimension "d0" = 9.525
extrude "Extrusion1" add sketch "Sketch1" along normal blind 11.43
ref_plane "Work Plane1" through (0, 0, 5.715) normal (0, 0, -1) x (-1, 0, 0)
properties part number "24t Tooth Pulley .375 Hex Bore 3mm GT2"
